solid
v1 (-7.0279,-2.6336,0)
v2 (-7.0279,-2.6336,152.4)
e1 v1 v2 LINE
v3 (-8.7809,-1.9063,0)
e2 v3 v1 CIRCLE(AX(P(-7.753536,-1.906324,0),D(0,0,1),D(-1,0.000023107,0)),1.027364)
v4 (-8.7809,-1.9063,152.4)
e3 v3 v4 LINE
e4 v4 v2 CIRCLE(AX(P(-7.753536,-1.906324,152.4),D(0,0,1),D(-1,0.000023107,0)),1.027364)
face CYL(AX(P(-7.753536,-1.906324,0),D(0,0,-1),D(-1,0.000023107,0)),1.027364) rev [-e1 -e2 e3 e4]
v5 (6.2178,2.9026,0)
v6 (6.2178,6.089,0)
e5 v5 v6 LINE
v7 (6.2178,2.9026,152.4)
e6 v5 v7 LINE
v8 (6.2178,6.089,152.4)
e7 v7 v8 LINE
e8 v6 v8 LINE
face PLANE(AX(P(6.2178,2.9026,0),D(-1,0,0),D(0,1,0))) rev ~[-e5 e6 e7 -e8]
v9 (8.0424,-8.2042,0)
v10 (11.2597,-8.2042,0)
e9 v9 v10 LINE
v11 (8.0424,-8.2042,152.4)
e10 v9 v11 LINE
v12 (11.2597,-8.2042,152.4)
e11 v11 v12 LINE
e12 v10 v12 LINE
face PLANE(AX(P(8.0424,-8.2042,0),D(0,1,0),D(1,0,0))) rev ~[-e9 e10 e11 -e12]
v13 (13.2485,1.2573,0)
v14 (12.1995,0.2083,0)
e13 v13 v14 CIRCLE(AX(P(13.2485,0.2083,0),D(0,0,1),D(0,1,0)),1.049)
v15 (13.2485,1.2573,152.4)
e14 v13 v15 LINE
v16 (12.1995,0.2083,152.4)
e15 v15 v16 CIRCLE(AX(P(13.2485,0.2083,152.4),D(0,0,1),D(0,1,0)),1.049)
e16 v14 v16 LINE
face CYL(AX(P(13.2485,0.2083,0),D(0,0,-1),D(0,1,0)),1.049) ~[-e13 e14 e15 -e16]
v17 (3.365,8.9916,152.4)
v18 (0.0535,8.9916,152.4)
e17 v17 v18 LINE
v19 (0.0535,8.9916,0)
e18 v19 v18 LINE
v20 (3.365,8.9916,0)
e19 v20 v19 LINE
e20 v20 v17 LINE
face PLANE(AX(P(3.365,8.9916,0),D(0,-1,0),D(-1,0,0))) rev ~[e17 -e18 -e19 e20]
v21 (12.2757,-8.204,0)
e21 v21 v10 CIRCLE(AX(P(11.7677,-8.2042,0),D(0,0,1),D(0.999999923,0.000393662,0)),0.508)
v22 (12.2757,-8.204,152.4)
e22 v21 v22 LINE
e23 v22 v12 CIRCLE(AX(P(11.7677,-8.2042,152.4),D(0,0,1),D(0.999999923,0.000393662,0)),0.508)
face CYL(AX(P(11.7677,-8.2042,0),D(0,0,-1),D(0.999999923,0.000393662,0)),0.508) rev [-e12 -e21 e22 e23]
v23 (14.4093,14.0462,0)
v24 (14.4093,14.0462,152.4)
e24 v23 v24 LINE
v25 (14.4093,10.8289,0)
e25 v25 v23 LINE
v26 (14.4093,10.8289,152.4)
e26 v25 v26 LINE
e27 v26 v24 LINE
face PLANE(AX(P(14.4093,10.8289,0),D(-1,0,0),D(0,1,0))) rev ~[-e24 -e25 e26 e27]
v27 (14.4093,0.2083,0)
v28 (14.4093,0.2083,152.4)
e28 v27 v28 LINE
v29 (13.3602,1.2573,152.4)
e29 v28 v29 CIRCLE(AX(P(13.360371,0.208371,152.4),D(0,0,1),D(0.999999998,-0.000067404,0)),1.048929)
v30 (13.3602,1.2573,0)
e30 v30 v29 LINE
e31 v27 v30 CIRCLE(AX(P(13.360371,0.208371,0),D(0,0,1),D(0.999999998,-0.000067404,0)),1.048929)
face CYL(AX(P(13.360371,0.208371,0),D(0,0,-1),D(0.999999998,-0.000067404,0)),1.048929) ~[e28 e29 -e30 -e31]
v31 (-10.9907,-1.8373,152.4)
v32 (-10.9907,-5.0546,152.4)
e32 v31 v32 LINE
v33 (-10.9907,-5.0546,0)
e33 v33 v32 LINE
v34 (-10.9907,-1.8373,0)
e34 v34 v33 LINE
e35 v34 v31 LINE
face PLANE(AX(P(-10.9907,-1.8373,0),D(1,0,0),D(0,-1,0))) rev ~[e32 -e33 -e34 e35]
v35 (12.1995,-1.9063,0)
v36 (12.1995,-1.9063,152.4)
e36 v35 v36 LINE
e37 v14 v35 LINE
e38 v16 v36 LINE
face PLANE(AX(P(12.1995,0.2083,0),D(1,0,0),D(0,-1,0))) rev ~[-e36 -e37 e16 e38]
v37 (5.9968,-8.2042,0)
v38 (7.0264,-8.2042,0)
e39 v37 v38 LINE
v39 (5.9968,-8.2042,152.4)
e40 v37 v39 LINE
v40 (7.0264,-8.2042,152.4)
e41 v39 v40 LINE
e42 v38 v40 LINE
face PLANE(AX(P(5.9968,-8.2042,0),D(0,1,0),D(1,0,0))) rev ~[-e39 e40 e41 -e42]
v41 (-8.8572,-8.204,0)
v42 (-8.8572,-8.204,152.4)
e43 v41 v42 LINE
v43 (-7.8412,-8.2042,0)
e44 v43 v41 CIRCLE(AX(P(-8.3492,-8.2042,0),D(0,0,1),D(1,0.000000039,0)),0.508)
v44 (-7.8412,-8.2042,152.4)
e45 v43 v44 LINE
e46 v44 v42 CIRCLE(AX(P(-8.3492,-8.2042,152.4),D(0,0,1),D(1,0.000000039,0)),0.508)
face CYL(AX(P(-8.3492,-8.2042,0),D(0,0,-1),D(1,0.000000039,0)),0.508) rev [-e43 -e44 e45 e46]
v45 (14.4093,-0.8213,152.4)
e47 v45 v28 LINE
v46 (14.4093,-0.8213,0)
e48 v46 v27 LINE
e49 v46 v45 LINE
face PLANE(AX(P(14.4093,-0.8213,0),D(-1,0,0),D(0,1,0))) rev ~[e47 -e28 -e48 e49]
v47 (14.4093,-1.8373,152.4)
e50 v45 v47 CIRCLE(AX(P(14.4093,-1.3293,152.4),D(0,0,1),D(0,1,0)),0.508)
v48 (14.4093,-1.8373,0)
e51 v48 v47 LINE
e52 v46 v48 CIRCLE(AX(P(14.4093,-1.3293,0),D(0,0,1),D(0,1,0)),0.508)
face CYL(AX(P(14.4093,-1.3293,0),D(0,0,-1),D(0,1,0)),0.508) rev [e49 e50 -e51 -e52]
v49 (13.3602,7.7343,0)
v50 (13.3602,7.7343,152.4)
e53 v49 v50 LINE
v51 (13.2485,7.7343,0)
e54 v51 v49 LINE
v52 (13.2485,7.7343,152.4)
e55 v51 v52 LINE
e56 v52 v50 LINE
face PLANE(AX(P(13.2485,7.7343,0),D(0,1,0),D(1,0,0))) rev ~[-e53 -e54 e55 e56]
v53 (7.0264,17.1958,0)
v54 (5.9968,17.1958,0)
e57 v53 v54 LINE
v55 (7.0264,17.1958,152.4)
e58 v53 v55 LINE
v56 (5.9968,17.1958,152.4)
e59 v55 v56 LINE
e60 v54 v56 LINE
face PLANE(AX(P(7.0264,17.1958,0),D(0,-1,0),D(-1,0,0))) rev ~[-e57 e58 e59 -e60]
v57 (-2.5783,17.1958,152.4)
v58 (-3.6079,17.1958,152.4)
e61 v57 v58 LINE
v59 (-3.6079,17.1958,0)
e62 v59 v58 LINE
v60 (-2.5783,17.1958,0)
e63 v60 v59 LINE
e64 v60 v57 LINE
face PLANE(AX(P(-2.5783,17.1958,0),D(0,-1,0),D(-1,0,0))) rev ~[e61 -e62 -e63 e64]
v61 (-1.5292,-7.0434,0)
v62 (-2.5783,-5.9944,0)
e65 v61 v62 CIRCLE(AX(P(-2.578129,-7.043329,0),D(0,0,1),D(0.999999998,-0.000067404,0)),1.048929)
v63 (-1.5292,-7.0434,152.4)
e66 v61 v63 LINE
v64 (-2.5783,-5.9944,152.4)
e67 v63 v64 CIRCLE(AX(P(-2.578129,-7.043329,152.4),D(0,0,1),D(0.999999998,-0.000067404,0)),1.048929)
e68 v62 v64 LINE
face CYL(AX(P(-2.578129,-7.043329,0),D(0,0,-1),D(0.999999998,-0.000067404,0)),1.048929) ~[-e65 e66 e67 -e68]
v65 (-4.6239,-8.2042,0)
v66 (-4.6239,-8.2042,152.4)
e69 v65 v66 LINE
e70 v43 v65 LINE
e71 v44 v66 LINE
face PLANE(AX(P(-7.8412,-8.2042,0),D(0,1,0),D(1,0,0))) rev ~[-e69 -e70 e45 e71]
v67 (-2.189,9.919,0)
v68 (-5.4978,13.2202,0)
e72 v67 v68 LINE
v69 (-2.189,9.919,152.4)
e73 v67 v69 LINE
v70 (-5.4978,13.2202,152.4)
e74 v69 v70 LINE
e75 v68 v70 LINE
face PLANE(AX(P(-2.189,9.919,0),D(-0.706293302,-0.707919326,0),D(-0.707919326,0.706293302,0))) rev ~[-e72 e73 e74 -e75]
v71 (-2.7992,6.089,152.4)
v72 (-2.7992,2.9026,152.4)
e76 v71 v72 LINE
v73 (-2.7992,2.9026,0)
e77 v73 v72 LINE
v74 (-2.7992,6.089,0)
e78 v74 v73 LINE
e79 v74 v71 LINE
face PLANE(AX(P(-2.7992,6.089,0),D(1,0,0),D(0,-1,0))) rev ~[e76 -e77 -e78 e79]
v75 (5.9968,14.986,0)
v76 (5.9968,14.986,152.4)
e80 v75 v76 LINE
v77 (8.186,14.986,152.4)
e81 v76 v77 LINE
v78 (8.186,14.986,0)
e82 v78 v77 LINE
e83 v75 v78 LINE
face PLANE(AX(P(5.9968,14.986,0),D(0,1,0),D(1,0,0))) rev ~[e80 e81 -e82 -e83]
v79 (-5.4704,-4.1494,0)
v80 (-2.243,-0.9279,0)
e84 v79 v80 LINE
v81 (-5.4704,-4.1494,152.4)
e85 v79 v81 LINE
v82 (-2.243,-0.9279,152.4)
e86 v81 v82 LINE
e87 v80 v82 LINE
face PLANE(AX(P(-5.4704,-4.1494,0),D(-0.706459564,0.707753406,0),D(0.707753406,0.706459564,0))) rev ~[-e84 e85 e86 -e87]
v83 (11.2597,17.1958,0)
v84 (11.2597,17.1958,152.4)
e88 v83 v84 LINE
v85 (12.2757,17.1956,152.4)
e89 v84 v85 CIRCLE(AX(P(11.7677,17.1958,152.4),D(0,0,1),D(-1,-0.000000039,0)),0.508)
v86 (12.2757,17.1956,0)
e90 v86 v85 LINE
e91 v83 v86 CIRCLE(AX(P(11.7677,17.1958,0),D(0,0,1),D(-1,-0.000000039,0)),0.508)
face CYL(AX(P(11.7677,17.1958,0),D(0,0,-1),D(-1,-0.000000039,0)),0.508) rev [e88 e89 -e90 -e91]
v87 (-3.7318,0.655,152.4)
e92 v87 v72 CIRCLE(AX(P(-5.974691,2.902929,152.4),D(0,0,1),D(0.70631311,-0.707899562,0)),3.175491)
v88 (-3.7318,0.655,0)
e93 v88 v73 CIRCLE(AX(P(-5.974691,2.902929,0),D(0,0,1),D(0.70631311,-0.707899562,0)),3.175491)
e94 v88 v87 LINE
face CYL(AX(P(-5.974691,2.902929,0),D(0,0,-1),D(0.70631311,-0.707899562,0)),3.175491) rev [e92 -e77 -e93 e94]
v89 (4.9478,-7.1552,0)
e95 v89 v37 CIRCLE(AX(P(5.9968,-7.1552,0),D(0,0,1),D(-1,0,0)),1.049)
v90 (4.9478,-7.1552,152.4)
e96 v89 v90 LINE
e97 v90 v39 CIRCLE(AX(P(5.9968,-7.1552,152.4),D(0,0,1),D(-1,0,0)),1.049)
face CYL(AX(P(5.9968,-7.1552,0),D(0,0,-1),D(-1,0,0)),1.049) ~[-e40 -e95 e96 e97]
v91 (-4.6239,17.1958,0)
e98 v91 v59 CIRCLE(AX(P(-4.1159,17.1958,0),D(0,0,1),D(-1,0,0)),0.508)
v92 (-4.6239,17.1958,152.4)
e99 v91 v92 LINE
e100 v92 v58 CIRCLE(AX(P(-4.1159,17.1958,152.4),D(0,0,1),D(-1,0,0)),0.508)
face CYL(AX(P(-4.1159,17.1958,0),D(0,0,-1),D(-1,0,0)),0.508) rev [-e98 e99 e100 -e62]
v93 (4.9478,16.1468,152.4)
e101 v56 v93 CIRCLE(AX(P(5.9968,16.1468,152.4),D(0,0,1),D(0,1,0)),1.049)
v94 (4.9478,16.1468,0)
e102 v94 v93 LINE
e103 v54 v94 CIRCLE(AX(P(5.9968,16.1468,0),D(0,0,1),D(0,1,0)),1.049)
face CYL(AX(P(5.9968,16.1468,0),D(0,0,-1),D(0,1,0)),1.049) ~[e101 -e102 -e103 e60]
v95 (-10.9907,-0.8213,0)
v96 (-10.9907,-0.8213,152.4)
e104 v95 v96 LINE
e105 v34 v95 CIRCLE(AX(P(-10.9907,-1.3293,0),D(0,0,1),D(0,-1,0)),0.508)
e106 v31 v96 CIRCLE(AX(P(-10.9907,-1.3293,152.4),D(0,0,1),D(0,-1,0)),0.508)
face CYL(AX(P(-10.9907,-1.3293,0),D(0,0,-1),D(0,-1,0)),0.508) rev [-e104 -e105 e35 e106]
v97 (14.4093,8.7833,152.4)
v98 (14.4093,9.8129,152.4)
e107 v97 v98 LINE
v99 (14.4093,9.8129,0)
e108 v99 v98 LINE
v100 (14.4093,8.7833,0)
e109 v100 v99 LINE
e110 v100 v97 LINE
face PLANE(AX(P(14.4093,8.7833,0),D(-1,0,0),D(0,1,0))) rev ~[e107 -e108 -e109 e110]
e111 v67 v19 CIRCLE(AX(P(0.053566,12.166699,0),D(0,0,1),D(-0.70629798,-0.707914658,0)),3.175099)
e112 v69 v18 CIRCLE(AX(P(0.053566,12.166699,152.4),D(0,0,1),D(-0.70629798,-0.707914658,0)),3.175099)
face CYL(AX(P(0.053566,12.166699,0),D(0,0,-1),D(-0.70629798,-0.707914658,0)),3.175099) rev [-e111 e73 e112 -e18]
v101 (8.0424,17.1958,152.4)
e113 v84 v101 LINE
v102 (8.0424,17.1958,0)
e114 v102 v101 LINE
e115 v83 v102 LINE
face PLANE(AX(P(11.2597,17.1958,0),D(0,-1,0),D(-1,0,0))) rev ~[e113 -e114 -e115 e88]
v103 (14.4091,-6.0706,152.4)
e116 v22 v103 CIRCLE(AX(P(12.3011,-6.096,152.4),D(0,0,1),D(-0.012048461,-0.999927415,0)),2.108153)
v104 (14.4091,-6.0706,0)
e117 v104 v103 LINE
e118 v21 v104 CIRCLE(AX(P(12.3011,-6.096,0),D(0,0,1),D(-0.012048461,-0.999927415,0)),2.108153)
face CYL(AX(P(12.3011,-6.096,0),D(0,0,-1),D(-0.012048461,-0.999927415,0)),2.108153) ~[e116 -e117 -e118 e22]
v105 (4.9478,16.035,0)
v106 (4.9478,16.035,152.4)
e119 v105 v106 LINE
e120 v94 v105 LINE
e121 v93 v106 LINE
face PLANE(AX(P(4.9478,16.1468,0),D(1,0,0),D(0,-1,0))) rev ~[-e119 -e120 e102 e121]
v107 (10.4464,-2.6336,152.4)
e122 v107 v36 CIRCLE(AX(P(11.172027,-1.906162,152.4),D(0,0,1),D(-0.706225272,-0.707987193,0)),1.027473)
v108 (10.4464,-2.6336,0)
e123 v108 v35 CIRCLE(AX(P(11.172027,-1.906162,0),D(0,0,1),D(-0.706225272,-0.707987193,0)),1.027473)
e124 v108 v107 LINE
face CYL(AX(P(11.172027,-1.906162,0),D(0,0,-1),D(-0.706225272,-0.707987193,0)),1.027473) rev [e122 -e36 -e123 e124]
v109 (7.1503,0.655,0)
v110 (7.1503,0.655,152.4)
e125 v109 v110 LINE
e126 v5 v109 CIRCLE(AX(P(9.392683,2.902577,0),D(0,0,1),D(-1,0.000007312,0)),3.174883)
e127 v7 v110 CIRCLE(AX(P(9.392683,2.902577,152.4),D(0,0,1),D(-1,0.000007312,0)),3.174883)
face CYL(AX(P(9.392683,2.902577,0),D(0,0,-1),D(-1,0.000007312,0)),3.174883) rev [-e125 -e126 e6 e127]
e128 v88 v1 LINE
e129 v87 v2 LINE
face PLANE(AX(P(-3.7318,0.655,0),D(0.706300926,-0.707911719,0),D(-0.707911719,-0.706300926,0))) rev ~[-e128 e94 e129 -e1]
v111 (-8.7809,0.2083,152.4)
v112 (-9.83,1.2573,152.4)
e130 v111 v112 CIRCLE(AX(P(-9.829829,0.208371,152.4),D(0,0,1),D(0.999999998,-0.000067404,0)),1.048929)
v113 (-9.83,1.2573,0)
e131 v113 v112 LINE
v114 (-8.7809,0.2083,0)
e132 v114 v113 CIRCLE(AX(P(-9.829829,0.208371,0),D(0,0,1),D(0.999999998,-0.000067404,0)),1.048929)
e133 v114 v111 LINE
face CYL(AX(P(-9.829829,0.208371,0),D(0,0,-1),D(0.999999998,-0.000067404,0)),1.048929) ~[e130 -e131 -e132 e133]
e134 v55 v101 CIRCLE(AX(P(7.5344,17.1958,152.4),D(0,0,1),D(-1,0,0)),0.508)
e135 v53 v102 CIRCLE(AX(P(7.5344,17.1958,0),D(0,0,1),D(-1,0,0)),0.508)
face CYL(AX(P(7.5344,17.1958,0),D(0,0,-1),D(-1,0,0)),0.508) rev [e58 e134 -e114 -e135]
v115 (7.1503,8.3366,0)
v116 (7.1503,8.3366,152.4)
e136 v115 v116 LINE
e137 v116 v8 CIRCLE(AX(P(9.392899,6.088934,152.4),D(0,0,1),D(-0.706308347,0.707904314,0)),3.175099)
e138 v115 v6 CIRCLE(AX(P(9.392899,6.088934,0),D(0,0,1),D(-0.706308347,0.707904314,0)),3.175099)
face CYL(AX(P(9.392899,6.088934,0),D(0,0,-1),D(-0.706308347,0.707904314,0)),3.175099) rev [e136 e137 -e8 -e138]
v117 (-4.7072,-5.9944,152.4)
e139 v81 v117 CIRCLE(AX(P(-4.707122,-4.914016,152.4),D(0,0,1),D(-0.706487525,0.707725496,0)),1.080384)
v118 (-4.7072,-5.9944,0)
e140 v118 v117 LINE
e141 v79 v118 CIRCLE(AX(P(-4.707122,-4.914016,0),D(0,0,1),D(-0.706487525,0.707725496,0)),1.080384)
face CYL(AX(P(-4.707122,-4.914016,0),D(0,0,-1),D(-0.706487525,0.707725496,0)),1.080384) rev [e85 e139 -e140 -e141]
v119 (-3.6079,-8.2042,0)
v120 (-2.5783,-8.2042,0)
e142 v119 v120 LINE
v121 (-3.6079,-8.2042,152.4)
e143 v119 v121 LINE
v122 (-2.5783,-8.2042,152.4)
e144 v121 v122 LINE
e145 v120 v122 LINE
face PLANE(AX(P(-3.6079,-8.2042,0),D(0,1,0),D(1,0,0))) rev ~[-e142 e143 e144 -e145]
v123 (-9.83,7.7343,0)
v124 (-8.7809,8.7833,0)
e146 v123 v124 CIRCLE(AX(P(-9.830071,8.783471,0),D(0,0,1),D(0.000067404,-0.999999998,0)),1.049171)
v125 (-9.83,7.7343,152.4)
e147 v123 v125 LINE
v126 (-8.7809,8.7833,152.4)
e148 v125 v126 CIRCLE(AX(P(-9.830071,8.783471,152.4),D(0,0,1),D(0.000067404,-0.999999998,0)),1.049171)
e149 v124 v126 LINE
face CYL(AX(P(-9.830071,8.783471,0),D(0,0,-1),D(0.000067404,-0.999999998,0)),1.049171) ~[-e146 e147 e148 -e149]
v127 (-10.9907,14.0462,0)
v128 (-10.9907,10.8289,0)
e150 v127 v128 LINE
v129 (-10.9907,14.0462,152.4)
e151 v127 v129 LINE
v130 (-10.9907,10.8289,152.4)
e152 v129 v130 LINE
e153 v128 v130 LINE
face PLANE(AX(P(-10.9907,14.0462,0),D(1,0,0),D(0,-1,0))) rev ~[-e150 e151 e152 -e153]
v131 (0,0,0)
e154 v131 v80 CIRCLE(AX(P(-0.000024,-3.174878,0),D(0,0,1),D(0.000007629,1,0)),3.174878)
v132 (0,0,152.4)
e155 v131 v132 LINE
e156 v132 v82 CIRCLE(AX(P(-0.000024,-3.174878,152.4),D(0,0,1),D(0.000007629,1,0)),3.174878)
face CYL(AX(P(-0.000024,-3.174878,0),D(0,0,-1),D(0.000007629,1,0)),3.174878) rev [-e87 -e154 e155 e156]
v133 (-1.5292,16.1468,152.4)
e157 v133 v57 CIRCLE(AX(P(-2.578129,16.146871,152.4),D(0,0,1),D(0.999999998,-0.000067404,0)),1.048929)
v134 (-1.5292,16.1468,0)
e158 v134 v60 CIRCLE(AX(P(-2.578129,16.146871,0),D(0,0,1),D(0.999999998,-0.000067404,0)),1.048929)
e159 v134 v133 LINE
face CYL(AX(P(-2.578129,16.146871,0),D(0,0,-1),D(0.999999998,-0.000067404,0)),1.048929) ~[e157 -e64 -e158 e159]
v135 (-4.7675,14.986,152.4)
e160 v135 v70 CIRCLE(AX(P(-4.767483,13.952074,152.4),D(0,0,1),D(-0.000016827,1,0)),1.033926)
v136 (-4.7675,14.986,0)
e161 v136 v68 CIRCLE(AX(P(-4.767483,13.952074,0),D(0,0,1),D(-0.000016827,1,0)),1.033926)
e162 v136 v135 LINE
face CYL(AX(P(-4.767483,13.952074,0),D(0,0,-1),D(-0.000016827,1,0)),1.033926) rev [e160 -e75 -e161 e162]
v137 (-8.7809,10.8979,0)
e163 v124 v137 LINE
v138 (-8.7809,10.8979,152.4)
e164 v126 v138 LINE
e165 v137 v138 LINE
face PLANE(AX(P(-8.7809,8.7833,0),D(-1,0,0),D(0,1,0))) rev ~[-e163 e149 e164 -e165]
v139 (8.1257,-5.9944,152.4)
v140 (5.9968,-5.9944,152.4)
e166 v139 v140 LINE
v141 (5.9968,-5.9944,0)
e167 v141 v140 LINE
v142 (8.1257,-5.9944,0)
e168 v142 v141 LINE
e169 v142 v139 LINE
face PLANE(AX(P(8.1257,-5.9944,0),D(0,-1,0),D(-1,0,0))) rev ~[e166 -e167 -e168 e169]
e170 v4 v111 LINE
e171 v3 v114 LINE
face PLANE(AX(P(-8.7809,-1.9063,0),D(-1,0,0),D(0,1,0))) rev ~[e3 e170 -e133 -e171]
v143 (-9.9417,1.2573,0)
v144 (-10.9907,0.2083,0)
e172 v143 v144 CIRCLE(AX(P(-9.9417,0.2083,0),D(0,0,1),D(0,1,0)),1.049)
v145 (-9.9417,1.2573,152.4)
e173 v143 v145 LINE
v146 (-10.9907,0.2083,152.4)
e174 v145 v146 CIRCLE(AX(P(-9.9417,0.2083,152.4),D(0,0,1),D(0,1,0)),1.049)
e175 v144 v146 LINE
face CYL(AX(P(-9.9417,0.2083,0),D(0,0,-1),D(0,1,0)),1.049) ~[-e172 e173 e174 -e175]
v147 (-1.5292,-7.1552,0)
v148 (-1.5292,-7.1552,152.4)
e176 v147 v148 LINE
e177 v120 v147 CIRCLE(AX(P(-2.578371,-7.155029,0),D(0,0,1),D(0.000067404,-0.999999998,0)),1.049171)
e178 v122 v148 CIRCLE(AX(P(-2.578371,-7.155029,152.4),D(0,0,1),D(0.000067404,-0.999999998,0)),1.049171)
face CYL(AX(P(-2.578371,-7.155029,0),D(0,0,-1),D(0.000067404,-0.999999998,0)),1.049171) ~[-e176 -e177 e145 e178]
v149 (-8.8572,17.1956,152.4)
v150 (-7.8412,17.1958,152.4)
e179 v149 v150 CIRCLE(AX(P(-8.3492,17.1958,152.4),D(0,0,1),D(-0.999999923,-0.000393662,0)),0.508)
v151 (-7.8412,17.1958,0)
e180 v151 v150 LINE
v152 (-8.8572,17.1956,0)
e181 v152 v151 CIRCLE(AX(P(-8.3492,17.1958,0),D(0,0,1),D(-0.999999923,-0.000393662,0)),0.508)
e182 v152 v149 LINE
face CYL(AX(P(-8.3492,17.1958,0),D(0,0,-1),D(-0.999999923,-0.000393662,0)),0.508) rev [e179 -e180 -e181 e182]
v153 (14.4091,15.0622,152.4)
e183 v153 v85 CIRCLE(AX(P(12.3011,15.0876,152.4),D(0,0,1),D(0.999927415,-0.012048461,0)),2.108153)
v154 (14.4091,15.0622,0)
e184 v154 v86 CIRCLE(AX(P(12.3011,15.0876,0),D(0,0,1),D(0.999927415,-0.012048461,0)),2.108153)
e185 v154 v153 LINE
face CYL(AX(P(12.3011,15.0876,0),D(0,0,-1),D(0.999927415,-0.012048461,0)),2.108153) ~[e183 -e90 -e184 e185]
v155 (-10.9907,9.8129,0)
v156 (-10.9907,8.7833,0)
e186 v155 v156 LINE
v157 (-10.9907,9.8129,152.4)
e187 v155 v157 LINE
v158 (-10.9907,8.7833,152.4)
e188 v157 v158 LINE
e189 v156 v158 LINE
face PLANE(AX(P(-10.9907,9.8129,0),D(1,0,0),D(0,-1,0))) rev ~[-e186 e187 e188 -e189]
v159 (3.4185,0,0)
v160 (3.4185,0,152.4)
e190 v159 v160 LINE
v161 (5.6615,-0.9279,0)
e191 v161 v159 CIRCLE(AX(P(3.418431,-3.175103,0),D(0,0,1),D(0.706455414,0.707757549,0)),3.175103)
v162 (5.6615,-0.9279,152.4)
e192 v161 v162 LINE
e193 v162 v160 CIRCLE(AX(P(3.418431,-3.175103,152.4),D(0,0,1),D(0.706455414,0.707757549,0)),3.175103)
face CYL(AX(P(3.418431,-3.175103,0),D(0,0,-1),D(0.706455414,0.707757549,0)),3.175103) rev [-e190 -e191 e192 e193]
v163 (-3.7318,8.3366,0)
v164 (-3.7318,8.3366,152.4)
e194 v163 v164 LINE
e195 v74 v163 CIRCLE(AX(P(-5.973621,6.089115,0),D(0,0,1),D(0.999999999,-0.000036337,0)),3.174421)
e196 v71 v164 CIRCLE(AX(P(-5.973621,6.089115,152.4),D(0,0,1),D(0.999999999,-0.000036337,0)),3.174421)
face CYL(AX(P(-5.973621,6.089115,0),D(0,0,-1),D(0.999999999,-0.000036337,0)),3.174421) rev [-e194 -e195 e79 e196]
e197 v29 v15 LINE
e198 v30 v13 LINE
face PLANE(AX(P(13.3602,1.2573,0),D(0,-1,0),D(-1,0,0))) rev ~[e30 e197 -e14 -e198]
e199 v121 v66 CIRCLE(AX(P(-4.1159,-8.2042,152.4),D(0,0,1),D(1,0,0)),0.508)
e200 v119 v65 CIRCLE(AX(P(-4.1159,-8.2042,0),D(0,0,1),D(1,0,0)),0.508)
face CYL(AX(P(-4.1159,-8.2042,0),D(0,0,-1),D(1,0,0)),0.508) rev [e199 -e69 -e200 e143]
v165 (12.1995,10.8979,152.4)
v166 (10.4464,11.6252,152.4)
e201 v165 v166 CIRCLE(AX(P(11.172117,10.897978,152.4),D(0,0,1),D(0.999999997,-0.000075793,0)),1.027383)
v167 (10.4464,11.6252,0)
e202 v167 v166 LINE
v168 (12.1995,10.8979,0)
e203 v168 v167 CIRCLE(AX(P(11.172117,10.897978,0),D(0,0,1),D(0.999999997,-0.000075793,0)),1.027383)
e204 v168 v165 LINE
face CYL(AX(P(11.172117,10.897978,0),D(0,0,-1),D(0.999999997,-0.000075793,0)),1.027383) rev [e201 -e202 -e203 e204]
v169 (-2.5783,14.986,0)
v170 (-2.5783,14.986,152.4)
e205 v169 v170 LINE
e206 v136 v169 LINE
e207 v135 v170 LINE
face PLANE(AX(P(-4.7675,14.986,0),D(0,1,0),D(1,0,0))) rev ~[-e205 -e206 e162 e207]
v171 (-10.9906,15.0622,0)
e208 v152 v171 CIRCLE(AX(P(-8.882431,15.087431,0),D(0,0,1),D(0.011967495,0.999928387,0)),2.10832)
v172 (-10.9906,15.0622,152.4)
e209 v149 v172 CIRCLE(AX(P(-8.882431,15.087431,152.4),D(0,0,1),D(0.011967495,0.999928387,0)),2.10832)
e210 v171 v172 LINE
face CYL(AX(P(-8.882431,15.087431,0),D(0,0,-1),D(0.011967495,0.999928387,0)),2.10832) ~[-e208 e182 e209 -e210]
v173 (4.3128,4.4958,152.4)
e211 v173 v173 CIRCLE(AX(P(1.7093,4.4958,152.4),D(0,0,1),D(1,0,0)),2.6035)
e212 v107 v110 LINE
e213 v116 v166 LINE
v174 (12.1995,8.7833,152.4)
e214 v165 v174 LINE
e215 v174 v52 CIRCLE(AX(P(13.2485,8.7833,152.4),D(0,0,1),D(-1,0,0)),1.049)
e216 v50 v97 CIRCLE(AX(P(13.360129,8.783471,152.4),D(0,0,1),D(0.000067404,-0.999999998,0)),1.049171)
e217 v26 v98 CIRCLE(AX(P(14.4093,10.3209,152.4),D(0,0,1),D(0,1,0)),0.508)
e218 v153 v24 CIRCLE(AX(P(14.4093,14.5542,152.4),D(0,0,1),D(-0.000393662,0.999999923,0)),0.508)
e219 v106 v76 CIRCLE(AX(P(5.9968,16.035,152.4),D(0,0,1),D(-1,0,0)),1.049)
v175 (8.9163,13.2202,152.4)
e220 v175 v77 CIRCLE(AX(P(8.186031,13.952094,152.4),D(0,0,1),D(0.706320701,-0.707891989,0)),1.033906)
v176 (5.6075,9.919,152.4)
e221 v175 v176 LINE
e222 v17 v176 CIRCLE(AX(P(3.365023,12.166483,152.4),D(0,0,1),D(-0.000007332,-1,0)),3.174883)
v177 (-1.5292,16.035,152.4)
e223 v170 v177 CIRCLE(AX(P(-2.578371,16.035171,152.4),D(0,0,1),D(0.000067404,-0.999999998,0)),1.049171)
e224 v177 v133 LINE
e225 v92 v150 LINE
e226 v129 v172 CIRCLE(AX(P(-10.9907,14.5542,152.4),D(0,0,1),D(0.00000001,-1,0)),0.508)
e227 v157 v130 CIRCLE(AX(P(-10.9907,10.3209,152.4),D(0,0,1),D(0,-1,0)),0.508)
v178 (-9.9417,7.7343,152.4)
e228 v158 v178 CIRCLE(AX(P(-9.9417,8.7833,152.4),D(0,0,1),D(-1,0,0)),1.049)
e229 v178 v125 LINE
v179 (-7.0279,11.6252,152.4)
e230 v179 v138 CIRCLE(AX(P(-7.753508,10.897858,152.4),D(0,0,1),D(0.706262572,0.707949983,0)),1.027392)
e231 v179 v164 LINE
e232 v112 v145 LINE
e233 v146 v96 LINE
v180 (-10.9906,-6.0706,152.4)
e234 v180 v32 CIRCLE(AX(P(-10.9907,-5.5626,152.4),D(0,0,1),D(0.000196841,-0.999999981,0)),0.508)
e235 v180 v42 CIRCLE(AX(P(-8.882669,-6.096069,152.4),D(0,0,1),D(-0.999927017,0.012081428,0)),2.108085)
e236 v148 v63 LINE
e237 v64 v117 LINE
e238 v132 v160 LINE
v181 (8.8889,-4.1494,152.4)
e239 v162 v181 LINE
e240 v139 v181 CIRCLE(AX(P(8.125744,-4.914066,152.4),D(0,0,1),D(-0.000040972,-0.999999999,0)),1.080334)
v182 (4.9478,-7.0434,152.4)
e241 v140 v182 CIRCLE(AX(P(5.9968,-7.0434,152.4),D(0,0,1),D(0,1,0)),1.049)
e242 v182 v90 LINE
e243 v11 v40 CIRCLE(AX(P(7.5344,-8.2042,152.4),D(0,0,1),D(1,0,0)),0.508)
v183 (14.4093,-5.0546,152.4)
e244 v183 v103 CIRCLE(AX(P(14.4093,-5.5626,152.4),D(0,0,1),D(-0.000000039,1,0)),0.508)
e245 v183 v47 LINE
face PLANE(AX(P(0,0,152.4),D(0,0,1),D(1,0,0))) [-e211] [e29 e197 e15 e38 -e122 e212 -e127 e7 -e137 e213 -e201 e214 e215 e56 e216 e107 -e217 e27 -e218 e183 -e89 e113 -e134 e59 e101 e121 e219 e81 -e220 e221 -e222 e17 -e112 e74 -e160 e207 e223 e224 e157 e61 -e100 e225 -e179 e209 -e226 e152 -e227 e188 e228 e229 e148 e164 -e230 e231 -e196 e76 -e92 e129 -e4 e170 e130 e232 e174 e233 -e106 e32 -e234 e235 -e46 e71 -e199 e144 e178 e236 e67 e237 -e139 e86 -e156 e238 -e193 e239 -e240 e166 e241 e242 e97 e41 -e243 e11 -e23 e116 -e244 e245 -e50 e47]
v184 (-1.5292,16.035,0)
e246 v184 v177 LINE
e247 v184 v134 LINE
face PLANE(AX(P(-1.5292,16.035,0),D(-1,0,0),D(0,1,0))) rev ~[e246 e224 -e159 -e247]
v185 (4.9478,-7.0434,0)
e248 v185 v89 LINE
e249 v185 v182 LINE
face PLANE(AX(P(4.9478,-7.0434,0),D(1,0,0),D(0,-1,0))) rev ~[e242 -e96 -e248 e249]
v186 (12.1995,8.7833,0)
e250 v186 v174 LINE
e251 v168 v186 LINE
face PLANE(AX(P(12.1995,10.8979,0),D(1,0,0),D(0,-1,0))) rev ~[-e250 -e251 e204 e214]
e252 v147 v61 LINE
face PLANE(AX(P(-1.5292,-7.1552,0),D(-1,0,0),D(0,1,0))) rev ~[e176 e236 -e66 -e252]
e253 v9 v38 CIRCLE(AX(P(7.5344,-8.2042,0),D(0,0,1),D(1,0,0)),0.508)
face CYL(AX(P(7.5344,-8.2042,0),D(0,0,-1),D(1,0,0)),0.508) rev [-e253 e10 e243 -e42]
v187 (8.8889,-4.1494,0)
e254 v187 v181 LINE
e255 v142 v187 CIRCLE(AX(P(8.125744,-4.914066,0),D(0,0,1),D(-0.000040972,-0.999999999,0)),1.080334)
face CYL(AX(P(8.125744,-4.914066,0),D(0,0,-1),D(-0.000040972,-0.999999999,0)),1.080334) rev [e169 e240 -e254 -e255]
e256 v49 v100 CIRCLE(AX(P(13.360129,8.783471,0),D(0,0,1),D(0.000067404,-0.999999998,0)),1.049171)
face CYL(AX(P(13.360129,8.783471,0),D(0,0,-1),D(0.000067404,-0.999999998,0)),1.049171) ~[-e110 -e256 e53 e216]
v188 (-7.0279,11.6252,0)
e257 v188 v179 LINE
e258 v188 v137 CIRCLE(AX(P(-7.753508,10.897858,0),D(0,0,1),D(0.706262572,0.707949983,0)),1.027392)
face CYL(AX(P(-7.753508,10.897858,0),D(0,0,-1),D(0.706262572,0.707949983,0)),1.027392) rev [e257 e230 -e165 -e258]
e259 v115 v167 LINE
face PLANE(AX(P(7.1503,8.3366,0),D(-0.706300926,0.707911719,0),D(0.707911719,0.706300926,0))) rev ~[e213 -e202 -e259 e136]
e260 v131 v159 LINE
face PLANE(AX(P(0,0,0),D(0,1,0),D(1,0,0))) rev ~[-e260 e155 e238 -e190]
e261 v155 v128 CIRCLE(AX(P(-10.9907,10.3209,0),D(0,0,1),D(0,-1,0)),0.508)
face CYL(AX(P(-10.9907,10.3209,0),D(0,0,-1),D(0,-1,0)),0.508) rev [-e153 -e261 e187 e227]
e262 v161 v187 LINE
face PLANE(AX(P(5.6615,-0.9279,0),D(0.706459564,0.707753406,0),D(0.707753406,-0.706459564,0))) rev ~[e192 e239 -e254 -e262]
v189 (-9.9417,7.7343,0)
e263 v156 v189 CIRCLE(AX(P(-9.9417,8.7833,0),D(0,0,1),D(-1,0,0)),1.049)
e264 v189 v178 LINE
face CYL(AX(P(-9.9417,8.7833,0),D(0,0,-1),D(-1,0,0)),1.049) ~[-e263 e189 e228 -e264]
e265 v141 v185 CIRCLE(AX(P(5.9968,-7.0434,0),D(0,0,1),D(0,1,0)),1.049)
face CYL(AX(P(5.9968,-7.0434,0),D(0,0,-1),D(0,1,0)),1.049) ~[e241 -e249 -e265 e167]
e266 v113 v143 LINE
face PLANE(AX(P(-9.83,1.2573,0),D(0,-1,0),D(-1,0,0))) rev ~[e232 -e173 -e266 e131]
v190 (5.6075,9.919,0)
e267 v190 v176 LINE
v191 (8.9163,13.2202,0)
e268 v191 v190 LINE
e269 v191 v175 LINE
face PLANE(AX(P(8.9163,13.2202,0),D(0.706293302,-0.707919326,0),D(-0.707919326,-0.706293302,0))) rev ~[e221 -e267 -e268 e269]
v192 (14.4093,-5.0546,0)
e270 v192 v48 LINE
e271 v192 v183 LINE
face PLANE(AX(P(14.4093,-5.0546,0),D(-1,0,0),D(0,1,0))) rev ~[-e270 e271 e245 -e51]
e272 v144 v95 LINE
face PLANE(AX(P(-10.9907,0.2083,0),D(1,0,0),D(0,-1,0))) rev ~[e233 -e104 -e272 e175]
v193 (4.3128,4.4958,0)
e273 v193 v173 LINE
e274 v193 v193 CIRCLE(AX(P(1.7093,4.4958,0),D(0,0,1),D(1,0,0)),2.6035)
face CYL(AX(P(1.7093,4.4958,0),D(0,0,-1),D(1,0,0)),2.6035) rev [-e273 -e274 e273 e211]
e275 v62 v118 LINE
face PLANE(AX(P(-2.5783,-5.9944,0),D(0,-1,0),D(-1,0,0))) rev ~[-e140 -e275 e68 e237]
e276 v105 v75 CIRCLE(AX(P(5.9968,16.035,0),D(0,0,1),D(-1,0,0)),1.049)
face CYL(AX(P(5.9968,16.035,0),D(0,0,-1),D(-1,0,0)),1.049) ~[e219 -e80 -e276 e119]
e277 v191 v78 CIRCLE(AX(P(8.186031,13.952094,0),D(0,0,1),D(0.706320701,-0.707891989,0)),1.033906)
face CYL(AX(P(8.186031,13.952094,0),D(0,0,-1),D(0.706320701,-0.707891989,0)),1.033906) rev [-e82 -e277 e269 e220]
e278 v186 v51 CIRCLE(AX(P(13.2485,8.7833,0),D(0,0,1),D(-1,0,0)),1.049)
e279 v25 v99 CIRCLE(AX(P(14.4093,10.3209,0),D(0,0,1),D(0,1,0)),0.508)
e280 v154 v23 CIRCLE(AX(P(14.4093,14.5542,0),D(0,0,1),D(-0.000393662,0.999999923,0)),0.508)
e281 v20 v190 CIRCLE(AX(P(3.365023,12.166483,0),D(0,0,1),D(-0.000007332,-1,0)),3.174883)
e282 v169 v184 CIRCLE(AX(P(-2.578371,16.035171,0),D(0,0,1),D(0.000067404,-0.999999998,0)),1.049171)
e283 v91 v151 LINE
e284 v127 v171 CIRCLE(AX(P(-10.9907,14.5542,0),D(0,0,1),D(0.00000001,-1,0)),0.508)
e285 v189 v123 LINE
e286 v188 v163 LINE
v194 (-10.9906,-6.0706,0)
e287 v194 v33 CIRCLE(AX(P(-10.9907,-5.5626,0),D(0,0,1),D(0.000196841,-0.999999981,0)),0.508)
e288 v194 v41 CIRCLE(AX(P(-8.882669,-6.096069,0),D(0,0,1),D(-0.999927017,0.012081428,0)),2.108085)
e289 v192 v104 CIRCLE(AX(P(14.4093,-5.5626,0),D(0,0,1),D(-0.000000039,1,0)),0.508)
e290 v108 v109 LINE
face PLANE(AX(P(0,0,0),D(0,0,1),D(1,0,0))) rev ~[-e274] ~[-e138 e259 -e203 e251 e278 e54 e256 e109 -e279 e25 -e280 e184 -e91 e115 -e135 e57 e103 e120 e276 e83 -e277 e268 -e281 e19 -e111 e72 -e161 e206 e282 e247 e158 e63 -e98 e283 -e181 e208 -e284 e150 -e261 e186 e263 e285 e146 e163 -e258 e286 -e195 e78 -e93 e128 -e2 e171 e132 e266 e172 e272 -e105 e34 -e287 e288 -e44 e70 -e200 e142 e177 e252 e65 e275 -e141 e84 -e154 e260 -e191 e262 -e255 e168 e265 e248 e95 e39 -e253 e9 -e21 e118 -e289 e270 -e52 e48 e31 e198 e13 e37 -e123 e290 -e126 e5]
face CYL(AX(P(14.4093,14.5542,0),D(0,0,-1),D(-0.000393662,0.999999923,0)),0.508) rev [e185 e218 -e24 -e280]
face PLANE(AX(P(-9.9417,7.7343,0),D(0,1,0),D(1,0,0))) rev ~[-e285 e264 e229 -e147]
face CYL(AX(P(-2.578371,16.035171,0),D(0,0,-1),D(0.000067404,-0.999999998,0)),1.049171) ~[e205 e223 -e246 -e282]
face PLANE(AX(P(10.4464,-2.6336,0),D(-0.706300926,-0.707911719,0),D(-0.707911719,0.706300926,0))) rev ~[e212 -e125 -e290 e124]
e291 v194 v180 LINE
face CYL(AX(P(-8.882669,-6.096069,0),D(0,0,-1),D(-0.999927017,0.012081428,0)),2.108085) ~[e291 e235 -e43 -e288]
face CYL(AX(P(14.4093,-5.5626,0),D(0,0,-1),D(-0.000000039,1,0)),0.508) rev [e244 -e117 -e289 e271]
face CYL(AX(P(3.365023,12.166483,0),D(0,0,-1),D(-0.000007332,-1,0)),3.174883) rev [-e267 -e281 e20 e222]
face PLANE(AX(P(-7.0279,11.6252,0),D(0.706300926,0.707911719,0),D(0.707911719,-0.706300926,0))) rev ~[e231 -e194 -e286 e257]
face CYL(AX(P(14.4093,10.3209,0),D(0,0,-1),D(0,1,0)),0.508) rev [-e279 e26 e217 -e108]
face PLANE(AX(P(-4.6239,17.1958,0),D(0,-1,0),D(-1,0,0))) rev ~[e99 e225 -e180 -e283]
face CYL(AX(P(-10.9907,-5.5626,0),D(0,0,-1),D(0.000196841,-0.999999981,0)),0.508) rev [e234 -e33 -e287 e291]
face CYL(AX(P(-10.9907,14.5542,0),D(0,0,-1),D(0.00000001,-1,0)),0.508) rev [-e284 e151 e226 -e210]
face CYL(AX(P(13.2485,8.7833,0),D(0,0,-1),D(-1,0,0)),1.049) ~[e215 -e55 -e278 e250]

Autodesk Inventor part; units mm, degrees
ref_plane "YZ Plane" through (0, 0, 0) normal (1, 0, 0) x (0, 1, 0)
ref_plane "XZ Plane" through (0, 0, 0) normal (0, 1, 0) x (-1, 0, 0)
ref_plane "XY Plane" through (0, 0, 0) normal (0, 0, 1) x (1, 0, 0)
sketch "Sketch1" plane through (0, 0, 0) normal (0, 0, 1) x (1, 0, 0)
  arc A0 (-5.4704, -4.1494) -> (-4.7072, -5.9944) centre (-4.7072, -4.914) ccw
  line L0 (-5.4704, -4.1494) -> (-2.243, -0.9279)
  arc A1 (0, 0) -> (-2.243, -0.9279) centre (0, -3.175) ccw
  line L1 (0, 0) -> (3.4185, 0)
  arc A2 (5.6615, -0.9279) -> (3.4185, 0) centre (3.4185, -3.175) ccw
  line L2 (5.6615, -0.9279) -> (8.8889, -4.1494)
  arc A3 (8.1257, -5.9944) -> (8.8889, -4.1494) centre (8.1257, -4.914) ccw
  line L3 (8.1257, -5.9944) -> (5.9968, -5.9944)
  arc A4 (5.9968, -5.9944) -> (4.9478, -7.0434) centre (5.9968, -7.0434) ccw
  line L4 (4.9478, -7.0434) -> (4.9478, -7.1552)
  arc A5 (4.9478, -7.1552) -> (5.9968, -8.2042) centre (5.9968, -7.1552) ccw
  line L5 (5.9968, -8.2042) -> (7.0264, -8.2042)
  arc A6 (8.0424, -8.2042) -> (7.0264, -8.2042) centre (7.5344, -8.2042) ccw
  line L6 (8.0424, -8.2042) -> (11.2597, -8.2042)
  arc A7 (12.2757, -8.204) -> (11.2597, -8.2042) centre (11.7677, -8.2042) ccw
  arc A8 (12.2757, -8.204) -> (14.4091, -6.0706) centre (12.3011, -6.096) ccw
  arc A9 (14.4093, -5.0546) -> (14.4091, -6.0706) centre (14.4093, -5.5626) ccw
  line L7 (14.4093, -5.0546) -> (14.4093, -1.8373)
  arc A10 (14.4093, -0.8213) -> (14.4093, -1.8373) centre (14.4093, -1.3293) ccw
  line L8 (14.4093, -0.8213) -> (14.4093, 0.2083)
  arc A11 (14.4093, 0.2083) -> (13.3602, 1.2573) centre (13.3602, 0.2083) ccw
  line L9 (13.3602, 1.2573) -> (13.2485, 1.2573)
  arc A12 (13.2485, 1.2573) -> (12.1995, 0.2083) centre (13.2485, 0.2083) ccw
  line L10 (12.1995, 0.2083) -> (12.1995, -1.9063)
  arc A13 (10.4464, -2.6336) -> (12.1995, -1.9063) centre (11.172, -1.9063) ccw
  line L11 (10.4464, -2.6336) -> (7.1503, 0.655)
  arc A14 (6.2178, 2.9026) -> (7.1503, 0.655) centre (9.3928, 2.9026) ccw
  line L12 (6.2178, 2.9026) -> (6.2178, 6.089)
  arc A15 (7.1503, 8.3366) -> (6.2178, 6.089) centre (9.3928, 6.089) ccw
  line L13 (7.1503, 8.3366) -> (10.4464, 11.6252)
  arc A16 (12.1995, 10.8979) -> (10.4464, 11.6252) centre (11.172, 10.8979) ccw
  line L14 (12.1995, 10.8979) -> (12.1995, 8.7833)
  arc A17 (12.1995, 8.7833) -> (13.2485, 7.7343) centre (13.2485, 8.7833) ccw
  line L15 (13.2485, 7.7343) -> (13.3602, 7.7343)
  arc A18 (13.3602, 7.7343) -> (14.4093, 8.7833) centre (13.3602, 8.7833) ccw
  line L16 (14.4093, 8.7833) -> (14.4093, 9.8129)
  arc A19 (14.4093, 10.8289) -> (14.4093, 9.8129) centre (14.4093, 10.3209) ccw
  line L17 (14.4093, 10.8289) -> (14.4093, 14.0462)
  arc A20 (14.4091, 15.0622) -> (14.4093, 14.0462) centre (14.4093, 14.5542) ccw
  arc A21 (14.4091, 15.0622) -> (12.2757, 17.1956) centre (12.3011, 15.0876) ccw
  arc A22 (11.2597, 17.1958) -> (12.2757, 17.1956) centre (11.7677, 17.1958) ccw
  line L18 (11.2597, 17.1958) -> (8.0424, 17.1958)
  arc A23 (7.0264, 17.1958) -> (8.0424, 17.1958) centre (7.5344, 17.1958) ccw
  line L19 (7.0264, 17.1958) -> (5.9968, 17.1958)
  arc A24 (5.9968, 17.1958) -> (4.9478, 16.1468) centre (5.9968, 16.1468) ccw
  line L20 (4.9478, 16.1468) -> (4.9478, 16.035)
  arc A25 (4.9478, 16.035) -> (5.9968, 14.986) centre (5.9968, 16.035) ccw
  line L21 (5.9968, 14.986) -> (8.186, 14.986)
  arc A26 (8.9163, 13.2202) -> (8.186, 14.986) centre (8.186, 13.9521) ccw
  line L22 (8.9163, 13.2202) -> (5.6075, 9.919)
  arc A27 (3.365, 8.9916) -> (5.6075, 9.919) centre (3.365, 12.1666) ccw
  line L23 (3.365, 8.9916) -> (0.0535, 8.9916)
  arc A28 (-2.189, 9.919) -> (0.0535, 8.9916) centre (0.0535, 12.1666) ccw
  line L24 (-2.189, 9.919) -> (-5.4978, 13.2202)
  arc A29 (-4.7675, 14.986) -> (-5.4978, 13.2202) centre (-4.7675, 13.9521) ccw
  line L25 (-4.7675, 14.986) -> (-2.5783, 14.986)
  arc A30 (-2.5783, 14.986) -> (-1.5292, 16.035) centre (-2.5783, 16.035) ccw
  line L26 (-1.5292, 16.035) -> (-1.5292, 16.1468)
  arc A31 (-1.5292, 16.1468) -> (-2.5783, 17.1958) centre (-2.5783, 16.1468) ccw
  line L27 (-2.5783, 17.1958) -> (-3.6079, 17.1958)
  arc A32 (-4.6239, 17.1958) -> (-3.6079, 17.1958) centre (-4.1159, 17.1958) ccw
  line L28 (-4.6239, 17.1958) -> (-7.8412, 17.1958)
  arc A33 (-8.8572, 17.1956) -> (-7.8412, 17.1958) centre (-8.3492, 17.1958) ccw
  arc A34 (-8.8572, 17.1956) -> (-10.9906, 15.0622) centre (-8.8825, 15.0876) ccw
  arc A35 (-10.9907, 14.0462) -> (-10.9906, 15.0622) centre (-10.9907, 14.5542) ccw
  line L29 (-10.9907, 14.0462) -> (-10.9907, 10.8289)
  arc A36 (-10.9907, 9.8129) -> (-10.9907, 10.8289) centre (-10.9907, 10.3209) ccw
  line L30 (-10.9907, 9.8129) -> (-10.9907, 8.7833)
  arc A37 (-10.9907, 8.7833) -> (-9.9417, 7.7343) centre (-9.9417, 8.7833) ccw
  line L31 (-9.9417, 7.7343) -> (-9.83, 7.7343)
  arc A38 (-9.83, 7.7343) -> (-8.7809, 8.7833) centre (-9.83, 8.7833) ccw
  line L32 (-8.7809, 8.7833) -> (-8.7809, 10.8979)
  arc A39 (-7.0279, 11.6252) -> (-8.7809, 10.8979) centre (-7.7535, 10.8979) ccw
  line L33 (-7.0279, 11.6252) -> (-3.7318, 8.3366)
  arc A40 (-2.7992, 6.089) -> (-3.7318, 8.3366) centre (-5.9742, 6.089) ccw
  line L34 (-2.7992, 6.089) -> (-2.7992, 2.9026)
  arc A41 (-3.7318, 0.655) -> (-2.7992, 2.9026) centre (-5.9742, 2.9026) ccw
  line L35 (-3.7318, 0.655) -> (-7.0279, -2.6336)
  arc A42 (-8.7809, -1.9063) -> (-7.0279, -2.6336) centre (-7.7535, -1.9063) ccw
  line L36 (-8.7809, -1.9063) -> (-8.7809, 0.2083)
  arc A43 (-8.7809, 0.2083) -> (-9.83, 1.2573) centre (-9.83, 0.2083) ccw
  line L37 (-9.83, 1.2573) -> (-9.9417, 1.2573)
  arc A44 (-9.9417, 1.2573) -> (-10.9907, 0.2083) centre (-9.9417, 0.2083) ccw
  line L38 (-10.9907, 0.2083) -> (-10.9907, -0.8213)
  arc A45 (-10.9907, -1.8373) -> (-10.9907, -0.8213) centre (-10.9907, -1.3293) ccw
  line L39 (-10.9907, -1.8373) -> (-10.9907, -5.0546)
  arc A46 (-10.9906, -6.0706) -> (-10.9907, -5.0546) centre (-10.9907, -5.5626) ccw
  arc A47 (-10.9906, -6.0706) -> (-8.8572, -8.204) centre (-8.8825, -6.096) ccw
  arc A48 (-7.8412, -8.2042) -> (-8.8572, -8.204) centre (-8.3492, -8.2042) ccw
  line L40 (-7.8412, -8.2042) -> (-4.6239, -8.2042)
  arc A49 (-3.6079, -8.2042) -> (-4.6239, -8.2042) centre (-4.1159, -8.2042) ccw
  line L41 (-3.6079, -8.2042) -> (-2.5783, -8.2042)
  arc A50 (-2.5783, -8.2042) -> (-1.5292, -7.1552) centre (-2.5783, -7.1552) ccw
  line L42 (-1.5292, -7.1552) -> (-1.5292, -7.0434)
  arc A51 (-1.5292, -7.0434) -> (-2.5783, -5.9944) centre (-2.5783, -7.0434) ccw
  line L43 (-2.5783, -5.9944) -> (-4.7072, -5.9944)
  circle A52 centre (1.7093, 4.4958) radius 2.6035
extrude "Extrusion1" add sketch "Sketch1" along normal blind 152.4
properties part number "6in 1x1 T slot" material "Steel, Alloy"
